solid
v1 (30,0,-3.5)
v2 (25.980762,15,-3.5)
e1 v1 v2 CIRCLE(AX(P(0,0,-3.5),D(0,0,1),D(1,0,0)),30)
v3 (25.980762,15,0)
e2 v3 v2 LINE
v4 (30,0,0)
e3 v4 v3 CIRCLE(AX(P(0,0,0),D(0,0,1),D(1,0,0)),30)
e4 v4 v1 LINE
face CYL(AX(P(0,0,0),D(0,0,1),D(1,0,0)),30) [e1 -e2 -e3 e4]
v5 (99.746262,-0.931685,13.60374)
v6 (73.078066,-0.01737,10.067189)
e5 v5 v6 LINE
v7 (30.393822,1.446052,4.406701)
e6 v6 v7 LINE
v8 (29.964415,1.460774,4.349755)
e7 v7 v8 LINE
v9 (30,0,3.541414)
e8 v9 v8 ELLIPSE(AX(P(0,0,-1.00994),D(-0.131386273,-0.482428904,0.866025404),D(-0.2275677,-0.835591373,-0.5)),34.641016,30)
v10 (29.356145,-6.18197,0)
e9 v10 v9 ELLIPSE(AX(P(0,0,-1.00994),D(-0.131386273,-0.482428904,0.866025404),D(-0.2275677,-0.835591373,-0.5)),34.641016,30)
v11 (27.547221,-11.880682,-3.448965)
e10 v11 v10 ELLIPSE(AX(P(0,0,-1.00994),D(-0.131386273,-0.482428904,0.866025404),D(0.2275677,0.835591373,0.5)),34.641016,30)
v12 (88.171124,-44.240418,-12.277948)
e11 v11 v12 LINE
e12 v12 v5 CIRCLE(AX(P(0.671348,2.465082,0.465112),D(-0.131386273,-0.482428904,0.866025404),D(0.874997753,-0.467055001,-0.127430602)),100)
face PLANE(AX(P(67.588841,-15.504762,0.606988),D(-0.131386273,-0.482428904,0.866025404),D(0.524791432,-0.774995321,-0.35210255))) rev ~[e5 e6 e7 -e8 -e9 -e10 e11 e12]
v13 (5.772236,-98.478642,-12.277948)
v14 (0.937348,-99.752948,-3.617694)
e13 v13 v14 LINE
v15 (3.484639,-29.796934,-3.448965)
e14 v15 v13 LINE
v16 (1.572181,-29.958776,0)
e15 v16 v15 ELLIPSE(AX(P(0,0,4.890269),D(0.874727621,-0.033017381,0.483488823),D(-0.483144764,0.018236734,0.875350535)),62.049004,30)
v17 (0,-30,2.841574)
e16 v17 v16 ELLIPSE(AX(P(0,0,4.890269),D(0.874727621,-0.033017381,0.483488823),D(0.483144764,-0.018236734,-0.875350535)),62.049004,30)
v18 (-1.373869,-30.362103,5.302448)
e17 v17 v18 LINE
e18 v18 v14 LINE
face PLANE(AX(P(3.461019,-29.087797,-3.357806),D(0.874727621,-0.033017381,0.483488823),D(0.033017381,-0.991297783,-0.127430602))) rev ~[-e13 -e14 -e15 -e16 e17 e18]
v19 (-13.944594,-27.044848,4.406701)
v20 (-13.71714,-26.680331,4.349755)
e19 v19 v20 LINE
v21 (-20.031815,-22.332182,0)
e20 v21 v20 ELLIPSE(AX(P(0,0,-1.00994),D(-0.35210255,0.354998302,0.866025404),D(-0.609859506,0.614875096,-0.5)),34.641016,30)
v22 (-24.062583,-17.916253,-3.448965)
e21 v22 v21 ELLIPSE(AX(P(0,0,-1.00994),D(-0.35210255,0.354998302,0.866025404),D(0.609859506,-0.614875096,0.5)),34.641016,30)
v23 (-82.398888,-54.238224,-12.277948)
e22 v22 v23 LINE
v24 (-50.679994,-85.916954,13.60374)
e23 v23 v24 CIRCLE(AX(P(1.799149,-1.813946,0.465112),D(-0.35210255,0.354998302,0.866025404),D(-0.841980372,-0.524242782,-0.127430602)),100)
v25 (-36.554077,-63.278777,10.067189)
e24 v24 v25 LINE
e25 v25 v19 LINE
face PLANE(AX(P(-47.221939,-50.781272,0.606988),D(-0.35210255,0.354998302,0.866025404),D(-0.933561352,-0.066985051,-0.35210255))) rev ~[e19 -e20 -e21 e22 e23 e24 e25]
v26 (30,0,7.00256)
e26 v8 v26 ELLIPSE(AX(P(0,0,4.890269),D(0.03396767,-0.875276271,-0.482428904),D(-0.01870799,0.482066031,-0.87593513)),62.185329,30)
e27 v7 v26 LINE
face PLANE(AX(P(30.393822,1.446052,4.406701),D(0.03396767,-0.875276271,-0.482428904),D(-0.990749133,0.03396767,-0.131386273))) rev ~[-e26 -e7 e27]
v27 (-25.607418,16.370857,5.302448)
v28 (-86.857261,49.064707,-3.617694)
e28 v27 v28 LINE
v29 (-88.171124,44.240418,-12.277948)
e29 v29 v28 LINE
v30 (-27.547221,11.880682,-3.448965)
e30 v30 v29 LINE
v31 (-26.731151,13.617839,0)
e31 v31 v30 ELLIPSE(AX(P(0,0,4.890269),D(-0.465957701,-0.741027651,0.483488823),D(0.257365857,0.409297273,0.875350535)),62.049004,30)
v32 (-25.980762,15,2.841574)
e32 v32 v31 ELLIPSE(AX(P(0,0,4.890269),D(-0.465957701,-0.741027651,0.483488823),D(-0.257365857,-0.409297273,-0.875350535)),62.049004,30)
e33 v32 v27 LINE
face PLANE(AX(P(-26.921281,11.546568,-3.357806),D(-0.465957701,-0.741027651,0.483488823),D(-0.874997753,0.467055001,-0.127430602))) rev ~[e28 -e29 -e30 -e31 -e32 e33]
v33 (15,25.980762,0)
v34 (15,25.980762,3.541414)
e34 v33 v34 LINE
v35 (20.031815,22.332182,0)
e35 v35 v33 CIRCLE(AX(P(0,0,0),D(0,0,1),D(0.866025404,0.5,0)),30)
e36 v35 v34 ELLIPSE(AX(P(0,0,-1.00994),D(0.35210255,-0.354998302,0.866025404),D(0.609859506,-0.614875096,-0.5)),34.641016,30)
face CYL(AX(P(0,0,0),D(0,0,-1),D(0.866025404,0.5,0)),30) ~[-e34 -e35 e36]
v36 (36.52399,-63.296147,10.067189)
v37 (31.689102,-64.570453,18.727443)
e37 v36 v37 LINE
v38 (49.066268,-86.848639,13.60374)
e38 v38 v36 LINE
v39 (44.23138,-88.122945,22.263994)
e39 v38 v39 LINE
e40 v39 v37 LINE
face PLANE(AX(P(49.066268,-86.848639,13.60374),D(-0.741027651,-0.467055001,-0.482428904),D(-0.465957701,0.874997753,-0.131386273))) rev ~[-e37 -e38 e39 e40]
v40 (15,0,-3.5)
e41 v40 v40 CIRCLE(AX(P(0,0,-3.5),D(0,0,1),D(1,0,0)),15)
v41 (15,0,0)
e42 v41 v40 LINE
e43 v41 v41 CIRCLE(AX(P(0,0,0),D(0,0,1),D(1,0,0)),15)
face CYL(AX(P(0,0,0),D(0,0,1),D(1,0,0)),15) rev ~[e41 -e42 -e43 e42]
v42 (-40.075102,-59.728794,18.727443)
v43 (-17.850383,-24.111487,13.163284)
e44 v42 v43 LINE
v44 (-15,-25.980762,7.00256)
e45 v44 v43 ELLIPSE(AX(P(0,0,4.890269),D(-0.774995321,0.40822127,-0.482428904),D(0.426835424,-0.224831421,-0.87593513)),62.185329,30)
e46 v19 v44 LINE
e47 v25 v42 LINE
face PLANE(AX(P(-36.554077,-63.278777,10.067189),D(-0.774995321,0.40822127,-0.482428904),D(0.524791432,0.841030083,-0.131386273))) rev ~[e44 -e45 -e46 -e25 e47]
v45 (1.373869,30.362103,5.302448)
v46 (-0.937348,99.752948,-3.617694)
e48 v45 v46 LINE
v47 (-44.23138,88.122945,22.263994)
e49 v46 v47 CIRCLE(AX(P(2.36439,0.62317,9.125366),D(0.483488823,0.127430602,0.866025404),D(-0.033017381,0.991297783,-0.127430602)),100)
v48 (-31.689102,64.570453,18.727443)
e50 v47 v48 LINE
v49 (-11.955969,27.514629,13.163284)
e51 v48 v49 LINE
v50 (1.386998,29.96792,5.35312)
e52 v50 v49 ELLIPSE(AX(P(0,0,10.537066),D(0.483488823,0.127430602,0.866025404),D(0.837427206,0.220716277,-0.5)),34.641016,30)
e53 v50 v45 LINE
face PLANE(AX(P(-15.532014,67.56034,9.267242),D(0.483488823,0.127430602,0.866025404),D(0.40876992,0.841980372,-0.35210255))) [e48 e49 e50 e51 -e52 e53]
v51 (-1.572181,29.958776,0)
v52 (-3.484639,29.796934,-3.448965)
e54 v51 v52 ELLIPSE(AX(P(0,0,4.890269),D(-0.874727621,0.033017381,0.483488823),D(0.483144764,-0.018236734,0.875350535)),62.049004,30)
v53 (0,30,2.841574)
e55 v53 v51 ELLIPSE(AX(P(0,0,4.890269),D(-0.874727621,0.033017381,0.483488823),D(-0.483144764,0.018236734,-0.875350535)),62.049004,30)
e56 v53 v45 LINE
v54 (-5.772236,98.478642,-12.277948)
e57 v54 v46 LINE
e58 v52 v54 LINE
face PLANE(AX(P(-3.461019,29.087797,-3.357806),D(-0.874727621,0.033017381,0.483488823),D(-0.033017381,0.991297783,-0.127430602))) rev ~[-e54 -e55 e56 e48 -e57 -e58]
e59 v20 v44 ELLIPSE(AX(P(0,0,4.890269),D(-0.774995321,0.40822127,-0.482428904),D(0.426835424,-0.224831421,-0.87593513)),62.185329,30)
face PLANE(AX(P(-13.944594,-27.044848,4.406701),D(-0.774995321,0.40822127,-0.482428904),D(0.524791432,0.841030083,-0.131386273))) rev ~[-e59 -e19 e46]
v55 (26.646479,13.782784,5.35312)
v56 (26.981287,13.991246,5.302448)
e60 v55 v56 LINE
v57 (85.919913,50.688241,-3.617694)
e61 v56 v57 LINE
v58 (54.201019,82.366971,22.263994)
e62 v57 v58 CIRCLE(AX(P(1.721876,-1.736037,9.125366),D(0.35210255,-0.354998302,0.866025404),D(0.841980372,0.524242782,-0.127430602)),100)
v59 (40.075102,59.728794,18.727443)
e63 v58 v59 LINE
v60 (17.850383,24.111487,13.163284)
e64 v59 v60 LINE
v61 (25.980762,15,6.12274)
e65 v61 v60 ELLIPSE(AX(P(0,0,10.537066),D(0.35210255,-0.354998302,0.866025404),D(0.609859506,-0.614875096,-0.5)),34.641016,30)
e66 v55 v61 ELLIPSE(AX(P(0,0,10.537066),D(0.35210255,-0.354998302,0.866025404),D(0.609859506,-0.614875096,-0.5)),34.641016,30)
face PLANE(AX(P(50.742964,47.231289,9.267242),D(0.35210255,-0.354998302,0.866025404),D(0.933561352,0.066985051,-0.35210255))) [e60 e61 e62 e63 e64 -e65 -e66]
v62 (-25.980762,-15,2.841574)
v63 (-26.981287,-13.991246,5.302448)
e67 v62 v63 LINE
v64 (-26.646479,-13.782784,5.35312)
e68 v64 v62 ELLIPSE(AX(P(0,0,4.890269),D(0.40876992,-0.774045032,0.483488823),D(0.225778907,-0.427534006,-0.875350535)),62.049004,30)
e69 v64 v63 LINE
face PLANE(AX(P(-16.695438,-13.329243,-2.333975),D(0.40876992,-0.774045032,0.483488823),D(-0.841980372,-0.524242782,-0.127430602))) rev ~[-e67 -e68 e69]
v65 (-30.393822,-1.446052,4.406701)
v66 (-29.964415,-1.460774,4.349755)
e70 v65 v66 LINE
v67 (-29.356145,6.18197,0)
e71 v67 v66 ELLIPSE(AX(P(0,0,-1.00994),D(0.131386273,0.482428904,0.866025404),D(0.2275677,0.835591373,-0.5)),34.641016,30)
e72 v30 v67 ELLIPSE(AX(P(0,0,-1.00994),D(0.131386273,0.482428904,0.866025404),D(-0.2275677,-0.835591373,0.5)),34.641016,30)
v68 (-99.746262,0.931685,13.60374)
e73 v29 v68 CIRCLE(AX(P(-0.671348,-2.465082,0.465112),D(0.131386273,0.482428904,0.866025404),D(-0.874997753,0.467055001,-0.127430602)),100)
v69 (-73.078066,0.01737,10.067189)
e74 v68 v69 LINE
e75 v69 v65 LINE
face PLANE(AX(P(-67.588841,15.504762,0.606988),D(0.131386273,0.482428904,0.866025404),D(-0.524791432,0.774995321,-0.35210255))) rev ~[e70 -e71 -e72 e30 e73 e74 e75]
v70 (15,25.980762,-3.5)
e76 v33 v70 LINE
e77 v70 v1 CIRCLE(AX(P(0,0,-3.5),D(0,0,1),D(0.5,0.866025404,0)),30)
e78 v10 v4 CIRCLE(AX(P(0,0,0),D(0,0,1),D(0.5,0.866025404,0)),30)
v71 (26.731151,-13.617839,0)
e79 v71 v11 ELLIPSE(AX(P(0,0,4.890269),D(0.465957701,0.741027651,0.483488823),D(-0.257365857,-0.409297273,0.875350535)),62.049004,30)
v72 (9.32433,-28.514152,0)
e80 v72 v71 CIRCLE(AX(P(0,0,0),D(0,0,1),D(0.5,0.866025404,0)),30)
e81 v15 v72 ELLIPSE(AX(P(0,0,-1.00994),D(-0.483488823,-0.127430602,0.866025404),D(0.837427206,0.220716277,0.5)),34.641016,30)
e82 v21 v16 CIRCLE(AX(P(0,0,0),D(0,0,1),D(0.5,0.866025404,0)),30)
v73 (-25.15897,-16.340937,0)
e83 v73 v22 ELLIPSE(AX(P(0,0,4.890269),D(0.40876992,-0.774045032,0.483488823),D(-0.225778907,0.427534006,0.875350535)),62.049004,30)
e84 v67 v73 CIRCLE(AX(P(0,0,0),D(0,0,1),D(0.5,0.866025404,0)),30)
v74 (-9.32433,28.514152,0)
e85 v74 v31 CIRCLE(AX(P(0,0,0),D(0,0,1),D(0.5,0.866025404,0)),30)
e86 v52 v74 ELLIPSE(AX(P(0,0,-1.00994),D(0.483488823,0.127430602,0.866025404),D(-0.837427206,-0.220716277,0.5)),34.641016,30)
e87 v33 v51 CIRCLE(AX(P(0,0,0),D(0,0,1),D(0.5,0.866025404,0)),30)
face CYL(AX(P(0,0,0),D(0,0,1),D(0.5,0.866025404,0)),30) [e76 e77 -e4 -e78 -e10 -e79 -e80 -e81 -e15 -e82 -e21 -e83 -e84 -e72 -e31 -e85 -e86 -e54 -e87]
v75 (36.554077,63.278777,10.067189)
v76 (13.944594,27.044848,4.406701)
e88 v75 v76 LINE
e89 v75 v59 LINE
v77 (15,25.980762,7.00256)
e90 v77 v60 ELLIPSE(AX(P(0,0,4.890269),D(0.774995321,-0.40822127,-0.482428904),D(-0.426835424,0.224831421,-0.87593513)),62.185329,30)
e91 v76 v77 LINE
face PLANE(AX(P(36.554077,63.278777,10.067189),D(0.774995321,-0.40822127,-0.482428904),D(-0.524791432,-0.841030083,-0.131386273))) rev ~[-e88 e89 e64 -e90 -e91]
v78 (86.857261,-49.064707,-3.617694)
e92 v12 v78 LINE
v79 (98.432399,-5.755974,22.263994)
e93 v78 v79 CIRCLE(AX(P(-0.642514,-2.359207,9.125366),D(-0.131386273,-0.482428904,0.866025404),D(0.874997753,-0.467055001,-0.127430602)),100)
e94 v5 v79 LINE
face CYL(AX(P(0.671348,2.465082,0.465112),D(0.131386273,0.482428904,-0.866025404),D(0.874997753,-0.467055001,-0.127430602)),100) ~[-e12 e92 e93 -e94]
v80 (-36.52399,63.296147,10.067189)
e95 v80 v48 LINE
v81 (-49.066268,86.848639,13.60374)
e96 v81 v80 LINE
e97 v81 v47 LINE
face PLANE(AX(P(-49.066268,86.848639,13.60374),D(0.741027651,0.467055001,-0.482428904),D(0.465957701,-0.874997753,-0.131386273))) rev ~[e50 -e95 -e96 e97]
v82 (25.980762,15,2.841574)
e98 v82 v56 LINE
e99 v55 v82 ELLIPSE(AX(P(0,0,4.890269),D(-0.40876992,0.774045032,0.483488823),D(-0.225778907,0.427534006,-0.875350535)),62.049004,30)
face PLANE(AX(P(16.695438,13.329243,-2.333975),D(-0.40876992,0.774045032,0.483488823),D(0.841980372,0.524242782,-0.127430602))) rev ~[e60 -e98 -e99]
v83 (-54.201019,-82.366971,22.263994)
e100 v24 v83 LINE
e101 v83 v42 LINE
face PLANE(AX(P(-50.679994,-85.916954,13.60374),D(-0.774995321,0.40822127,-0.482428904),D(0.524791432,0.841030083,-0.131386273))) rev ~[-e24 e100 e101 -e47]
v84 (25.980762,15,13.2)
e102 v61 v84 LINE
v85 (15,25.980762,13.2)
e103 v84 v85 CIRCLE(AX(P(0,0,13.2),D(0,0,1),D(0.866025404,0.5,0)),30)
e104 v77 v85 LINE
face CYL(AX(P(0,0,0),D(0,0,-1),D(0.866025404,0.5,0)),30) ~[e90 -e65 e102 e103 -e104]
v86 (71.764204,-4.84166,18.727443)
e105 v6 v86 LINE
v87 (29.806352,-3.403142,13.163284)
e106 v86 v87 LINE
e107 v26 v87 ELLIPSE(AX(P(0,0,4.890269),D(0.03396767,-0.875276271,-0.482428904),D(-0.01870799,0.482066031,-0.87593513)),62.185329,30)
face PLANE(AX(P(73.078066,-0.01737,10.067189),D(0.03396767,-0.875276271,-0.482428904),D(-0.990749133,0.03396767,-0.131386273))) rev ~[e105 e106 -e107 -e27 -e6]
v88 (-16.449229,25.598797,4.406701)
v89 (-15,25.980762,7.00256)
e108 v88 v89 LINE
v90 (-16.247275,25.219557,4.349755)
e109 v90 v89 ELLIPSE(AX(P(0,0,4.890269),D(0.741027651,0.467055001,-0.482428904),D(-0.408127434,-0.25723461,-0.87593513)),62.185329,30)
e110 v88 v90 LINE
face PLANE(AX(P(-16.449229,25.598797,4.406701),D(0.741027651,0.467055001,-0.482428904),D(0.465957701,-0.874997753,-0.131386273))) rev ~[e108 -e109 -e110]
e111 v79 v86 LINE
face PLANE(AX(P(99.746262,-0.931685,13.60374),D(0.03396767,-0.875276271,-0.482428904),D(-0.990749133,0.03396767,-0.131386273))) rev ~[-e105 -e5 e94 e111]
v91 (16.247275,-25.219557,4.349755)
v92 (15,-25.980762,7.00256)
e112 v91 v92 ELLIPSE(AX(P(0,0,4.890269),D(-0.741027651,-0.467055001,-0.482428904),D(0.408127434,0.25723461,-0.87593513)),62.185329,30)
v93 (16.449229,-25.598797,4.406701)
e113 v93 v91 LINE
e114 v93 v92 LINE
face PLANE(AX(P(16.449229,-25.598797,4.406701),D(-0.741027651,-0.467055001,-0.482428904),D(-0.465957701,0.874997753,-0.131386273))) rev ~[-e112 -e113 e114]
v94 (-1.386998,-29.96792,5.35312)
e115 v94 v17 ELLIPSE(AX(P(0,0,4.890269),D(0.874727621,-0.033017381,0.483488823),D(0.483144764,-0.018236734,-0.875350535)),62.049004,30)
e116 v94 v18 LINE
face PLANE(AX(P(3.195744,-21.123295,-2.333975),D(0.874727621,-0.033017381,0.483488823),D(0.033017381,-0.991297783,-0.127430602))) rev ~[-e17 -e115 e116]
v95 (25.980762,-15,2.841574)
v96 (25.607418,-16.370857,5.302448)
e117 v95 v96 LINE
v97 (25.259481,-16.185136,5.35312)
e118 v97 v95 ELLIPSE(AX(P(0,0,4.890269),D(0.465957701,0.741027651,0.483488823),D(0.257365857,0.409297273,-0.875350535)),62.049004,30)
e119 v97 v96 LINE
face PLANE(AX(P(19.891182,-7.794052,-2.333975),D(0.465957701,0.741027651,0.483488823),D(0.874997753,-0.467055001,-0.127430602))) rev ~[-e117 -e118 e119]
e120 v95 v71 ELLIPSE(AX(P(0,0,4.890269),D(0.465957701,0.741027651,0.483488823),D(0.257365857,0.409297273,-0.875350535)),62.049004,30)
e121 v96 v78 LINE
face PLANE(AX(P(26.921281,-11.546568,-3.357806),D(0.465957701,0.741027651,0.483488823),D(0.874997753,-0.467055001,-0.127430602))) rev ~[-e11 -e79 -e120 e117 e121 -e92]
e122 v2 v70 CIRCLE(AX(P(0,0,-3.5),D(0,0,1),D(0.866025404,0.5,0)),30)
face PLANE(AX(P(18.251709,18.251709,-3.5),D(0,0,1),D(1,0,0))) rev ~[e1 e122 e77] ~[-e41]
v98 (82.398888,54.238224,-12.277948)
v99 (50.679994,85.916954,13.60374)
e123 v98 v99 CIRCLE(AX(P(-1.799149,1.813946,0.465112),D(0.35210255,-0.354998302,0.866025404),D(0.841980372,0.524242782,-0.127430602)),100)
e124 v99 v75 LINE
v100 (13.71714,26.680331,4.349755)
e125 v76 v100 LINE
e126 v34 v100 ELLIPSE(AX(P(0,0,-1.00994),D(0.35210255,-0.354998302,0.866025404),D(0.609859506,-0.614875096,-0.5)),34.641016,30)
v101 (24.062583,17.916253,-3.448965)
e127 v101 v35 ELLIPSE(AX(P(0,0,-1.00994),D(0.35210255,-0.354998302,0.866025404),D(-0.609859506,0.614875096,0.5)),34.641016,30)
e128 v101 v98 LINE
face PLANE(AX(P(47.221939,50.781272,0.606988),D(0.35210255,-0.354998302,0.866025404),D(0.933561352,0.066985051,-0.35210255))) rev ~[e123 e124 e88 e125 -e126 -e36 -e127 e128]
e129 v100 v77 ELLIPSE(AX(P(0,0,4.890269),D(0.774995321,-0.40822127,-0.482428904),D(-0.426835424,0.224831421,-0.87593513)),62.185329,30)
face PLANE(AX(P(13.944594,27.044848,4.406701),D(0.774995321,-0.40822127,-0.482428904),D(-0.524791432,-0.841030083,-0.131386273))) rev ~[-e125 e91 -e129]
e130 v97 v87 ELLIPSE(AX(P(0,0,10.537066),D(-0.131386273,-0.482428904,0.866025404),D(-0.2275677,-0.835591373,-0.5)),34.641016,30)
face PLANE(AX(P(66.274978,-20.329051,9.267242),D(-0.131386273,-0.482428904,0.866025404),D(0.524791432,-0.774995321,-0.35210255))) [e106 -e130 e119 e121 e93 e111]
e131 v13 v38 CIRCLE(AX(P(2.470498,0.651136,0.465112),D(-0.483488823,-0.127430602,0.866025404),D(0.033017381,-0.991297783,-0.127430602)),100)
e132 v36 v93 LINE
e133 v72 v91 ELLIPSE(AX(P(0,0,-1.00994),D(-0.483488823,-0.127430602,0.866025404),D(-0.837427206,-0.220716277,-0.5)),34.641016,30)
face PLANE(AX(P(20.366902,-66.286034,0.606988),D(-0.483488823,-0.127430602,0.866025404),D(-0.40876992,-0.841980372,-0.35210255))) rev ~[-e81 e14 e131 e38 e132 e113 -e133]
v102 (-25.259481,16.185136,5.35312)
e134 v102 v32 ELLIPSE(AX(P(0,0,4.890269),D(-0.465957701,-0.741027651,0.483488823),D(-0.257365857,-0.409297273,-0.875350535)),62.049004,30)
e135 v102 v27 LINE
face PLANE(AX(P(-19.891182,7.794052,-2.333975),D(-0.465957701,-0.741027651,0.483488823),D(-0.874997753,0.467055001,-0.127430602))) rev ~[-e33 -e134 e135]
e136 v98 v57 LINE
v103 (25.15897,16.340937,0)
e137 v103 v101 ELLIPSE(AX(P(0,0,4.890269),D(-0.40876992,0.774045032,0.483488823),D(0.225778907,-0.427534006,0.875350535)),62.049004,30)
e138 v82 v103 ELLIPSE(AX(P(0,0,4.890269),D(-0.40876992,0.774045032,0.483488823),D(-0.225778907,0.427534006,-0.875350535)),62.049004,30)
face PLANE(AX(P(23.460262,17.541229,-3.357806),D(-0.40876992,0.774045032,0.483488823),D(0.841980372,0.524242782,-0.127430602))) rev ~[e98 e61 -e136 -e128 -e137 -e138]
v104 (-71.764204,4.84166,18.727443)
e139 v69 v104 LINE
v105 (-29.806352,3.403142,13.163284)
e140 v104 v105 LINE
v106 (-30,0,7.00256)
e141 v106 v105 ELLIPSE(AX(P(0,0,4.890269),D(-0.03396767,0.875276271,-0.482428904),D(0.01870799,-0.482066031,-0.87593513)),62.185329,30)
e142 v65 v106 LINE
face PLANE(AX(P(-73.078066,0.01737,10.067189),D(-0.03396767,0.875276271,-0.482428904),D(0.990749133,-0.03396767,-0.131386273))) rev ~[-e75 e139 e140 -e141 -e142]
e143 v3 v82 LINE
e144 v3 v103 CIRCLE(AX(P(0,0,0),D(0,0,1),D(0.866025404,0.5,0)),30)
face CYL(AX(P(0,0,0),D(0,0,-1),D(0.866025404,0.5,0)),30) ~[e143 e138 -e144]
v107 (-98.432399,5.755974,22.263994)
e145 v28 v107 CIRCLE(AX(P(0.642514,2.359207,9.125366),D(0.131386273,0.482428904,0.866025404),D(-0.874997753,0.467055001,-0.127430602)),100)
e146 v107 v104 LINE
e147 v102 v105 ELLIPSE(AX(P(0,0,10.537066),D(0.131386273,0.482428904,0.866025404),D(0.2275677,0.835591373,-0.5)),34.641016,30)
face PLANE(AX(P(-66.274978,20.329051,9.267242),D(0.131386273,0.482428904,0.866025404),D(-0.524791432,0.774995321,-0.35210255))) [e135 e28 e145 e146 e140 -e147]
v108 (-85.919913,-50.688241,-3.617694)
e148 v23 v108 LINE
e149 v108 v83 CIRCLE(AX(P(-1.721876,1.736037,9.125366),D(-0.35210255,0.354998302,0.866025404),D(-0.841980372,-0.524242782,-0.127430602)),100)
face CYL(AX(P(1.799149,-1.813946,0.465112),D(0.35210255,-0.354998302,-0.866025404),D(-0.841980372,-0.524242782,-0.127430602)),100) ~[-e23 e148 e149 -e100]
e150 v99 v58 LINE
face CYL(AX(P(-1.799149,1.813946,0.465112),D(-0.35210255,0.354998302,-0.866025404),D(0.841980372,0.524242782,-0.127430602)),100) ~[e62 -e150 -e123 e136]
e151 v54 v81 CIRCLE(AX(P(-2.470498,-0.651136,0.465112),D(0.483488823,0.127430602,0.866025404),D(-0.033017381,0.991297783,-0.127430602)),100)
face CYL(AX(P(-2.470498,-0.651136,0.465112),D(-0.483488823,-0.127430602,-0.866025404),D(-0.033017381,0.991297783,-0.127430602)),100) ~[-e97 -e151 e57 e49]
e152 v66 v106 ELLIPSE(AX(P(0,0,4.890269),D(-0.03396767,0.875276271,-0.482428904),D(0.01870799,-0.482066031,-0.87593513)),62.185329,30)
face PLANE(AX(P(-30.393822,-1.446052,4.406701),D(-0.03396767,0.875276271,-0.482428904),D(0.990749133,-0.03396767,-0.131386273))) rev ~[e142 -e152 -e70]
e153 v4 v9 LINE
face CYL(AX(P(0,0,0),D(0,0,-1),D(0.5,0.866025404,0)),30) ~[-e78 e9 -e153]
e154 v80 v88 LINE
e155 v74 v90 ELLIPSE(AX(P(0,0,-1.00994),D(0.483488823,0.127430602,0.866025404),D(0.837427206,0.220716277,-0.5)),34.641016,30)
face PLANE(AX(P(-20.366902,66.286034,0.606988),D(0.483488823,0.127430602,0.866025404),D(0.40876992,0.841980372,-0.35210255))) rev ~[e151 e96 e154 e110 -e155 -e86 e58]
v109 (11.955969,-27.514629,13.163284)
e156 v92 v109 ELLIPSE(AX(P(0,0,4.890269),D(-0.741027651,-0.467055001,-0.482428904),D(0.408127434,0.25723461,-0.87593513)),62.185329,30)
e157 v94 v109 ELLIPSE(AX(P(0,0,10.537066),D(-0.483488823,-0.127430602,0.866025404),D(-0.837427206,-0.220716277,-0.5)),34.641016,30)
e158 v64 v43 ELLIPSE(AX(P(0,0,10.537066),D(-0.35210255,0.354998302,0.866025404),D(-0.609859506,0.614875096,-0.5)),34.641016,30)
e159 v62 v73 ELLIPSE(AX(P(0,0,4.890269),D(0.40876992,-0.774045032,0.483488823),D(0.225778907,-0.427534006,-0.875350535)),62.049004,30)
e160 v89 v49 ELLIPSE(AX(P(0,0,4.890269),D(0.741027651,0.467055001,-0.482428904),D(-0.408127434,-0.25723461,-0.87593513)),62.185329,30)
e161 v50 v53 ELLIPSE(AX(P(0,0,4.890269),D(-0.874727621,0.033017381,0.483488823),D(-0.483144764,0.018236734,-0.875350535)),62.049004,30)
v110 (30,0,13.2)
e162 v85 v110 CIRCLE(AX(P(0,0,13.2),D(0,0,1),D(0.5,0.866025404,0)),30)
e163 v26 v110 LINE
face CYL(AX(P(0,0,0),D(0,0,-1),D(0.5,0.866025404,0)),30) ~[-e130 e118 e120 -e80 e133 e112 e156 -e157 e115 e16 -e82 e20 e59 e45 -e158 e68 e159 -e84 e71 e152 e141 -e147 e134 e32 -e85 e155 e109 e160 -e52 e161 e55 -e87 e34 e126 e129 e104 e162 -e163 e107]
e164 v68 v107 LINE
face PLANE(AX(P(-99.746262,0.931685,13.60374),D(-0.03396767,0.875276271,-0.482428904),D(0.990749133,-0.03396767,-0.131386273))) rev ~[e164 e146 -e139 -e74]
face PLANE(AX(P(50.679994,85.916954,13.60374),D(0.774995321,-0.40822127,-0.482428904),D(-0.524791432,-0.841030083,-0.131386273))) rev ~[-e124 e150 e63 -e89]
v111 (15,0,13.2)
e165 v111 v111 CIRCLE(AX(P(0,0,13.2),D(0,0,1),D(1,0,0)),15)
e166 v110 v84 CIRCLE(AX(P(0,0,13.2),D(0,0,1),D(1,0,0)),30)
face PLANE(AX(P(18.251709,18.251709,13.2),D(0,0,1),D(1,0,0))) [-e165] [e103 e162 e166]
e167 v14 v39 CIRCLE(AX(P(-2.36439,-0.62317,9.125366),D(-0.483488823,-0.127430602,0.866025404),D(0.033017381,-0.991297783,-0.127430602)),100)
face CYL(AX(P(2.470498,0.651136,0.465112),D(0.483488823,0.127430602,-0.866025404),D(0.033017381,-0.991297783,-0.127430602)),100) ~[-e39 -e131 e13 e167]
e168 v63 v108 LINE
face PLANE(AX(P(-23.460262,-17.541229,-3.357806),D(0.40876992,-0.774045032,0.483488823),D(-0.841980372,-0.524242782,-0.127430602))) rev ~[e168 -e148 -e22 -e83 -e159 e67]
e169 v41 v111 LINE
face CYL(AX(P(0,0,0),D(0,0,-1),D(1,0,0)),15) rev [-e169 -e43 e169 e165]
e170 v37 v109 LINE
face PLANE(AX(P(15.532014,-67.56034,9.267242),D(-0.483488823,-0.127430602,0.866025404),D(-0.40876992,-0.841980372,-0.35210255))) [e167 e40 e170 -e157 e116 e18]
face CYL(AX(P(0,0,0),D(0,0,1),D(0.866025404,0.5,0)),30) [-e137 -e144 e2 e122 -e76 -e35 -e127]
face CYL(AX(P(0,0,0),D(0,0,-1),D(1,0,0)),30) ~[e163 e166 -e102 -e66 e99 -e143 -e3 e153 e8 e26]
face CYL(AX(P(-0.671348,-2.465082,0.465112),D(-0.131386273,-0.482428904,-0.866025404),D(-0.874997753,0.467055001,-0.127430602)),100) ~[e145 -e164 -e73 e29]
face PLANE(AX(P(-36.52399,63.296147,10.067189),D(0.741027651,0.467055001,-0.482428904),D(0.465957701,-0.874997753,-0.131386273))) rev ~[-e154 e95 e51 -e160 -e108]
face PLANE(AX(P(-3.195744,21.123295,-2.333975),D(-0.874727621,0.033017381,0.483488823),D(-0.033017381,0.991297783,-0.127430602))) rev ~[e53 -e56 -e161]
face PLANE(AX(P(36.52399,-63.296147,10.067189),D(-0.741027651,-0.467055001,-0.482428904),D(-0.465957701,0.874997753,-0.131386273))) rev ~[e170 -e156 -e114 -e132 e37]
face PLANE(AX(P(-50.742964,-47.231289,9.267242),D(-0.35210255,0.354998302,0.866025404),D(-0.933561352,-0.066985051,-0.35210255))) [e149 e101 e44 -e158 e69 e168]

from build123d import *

# Parameters (mm, degrees)
F1_DEPTH      = 10
F4_ANGLE      = -30
F6_COUNT      = 6
F0_R          = 15
F7_DEPTH      = 13.2
F7_DEPTH_BACK = 3.5


with BuildPart() as f1:
    # F0 (on Top) → F1 (new body)
    with BuildSketch(Plane.XY):
        with BuildLine():
            Line((36.5413986146, 63.2915589802), (15, 25.9807621135))
            ThreePointArc((15, 25.9807621135), (21.2132034356, 21.2132034356), (25.9807621135, 15))
            Line((25.9807621135, 15), (86.6025403784, 50))
            ThreePointArc((86.6025403784, 50), (70.7106781187, 70.7106781187), (50, 86.6025403784))
            Line((50, 86.6025403784), (36.5413986146, 63.2915589802))
        make_face()
        with BuildLine():
            ThreePointArc((25.9807621135, 15), (21.2132034356, 21.2132034356), (15, 25.9807621135))
            Line((15, 25.9807621135), (10.982790001, 19.0227502905))
            ThreePointArc((10.982790001, 19.0227502905), (15.5320105721, 15.5320105721), (19.0227502905, 10.982790001))
            Line((19.0227502905, 10.982790001), (25.9807621135, 15))
        make_face()
    extrude(amount=F1_DEPTH)


with BuildPart() as f1_1:
    # F4: moved
    add(f1.part.rotate(Axis((41.835274435, 42.0708136254, 5), (-0.709996604, -0.7042050996, 0)), F4_ANGLE))


with BuildPart() as f6_1:
    # F6: instance of F1
    add(f1_1.part.rotate(Axis((0, 0, -5.4106004536), (0, 0, -1)), 1 * 360 / F6_COUNT))


with BuildPart() as f6_2:
    # F6: instance of F1
    add(f1_1.part.rotate(Axis((0, 0, -5.4106004536), (0, 0, -1)), 2 * 360 / F6_COUNT))


with BuildPart() as f6_3:
    # F6: instance of F1
    add(f1_1.part.rotate(Axis((0, 0, -5.4106004536), (0, 0, -1)), 3 * 360 / F6_COUNT))


with BuildPart() as f6_4:
    # F6: instance of F1
    add(f1_1.part.rotate(Axis((0, 0, -5.4106004536), (0, 0, -1)), 4 * 360 / F6_COUNT))


with BuildPart() as f6_5:
    # F6: instance of F1
    add(f1_1.part.rotate(Axis((0, 0, -5.4106004536), (0, 0, -1)), 5 * 360 / F6_COUNT))


with BuildPart() as f1_2:
    add(f1_1.part)

    add(f6_1.part)  # F7 merges F6_1

    add(f6_2.part)  # F7 merges F6_2

    add(f6_3.part)  # F7 merges F6_3

    add(f6_4.part)  # F7 merges F6_4

    add(f6_5.part)  # F7 merges F6_5
    # F0 (on Top) → F7 (join, two sides)
    with BuildSketch(Plane.XY) as f7_sk:
        with BuildLine():
            ThreePointArc((25.9807621135, 15), (21.2132034356, 21.2132034356), (15, 25.9807621135))
            Line((15, 25.9807621135), (10.982790001, 19.0227502905))
            ThreePointArc((10.982790001, 19.0227502905), (15.5320105721, 15.5320105721), (19.0227502905, 10.982790001))
            Line((19.0227502905, 10.982790001), (25.9807621135, 15))
        make_face()
        with BuildLine():
            Line((10.982790001, 19.0227502905), (15, 25.9807621135))
            ThreePointArc((15, 25.9807621135), (-25.9807621135, -15), (30, 0))
            ThreePointArc((30, 0), (28.9777747887, 7.7645713531), (25.9807621135, 15))
            Line((25.9807621135, 15), (19.0227502905, 10.982790001))
            ThreePointArc((19.0227502905, 10.982790001), (15.5320105721, 15.5320105721), (10.982790001, 19.0227502905))
        make_face()
        Circle(F0_R, mode=Mode.SUBTRACT)
    extrude(amount=F7_DEPTH)
    extrude(f7_sk.sketch, amount=-F7_DEPTH_BACK)


solid = f1_2.part
